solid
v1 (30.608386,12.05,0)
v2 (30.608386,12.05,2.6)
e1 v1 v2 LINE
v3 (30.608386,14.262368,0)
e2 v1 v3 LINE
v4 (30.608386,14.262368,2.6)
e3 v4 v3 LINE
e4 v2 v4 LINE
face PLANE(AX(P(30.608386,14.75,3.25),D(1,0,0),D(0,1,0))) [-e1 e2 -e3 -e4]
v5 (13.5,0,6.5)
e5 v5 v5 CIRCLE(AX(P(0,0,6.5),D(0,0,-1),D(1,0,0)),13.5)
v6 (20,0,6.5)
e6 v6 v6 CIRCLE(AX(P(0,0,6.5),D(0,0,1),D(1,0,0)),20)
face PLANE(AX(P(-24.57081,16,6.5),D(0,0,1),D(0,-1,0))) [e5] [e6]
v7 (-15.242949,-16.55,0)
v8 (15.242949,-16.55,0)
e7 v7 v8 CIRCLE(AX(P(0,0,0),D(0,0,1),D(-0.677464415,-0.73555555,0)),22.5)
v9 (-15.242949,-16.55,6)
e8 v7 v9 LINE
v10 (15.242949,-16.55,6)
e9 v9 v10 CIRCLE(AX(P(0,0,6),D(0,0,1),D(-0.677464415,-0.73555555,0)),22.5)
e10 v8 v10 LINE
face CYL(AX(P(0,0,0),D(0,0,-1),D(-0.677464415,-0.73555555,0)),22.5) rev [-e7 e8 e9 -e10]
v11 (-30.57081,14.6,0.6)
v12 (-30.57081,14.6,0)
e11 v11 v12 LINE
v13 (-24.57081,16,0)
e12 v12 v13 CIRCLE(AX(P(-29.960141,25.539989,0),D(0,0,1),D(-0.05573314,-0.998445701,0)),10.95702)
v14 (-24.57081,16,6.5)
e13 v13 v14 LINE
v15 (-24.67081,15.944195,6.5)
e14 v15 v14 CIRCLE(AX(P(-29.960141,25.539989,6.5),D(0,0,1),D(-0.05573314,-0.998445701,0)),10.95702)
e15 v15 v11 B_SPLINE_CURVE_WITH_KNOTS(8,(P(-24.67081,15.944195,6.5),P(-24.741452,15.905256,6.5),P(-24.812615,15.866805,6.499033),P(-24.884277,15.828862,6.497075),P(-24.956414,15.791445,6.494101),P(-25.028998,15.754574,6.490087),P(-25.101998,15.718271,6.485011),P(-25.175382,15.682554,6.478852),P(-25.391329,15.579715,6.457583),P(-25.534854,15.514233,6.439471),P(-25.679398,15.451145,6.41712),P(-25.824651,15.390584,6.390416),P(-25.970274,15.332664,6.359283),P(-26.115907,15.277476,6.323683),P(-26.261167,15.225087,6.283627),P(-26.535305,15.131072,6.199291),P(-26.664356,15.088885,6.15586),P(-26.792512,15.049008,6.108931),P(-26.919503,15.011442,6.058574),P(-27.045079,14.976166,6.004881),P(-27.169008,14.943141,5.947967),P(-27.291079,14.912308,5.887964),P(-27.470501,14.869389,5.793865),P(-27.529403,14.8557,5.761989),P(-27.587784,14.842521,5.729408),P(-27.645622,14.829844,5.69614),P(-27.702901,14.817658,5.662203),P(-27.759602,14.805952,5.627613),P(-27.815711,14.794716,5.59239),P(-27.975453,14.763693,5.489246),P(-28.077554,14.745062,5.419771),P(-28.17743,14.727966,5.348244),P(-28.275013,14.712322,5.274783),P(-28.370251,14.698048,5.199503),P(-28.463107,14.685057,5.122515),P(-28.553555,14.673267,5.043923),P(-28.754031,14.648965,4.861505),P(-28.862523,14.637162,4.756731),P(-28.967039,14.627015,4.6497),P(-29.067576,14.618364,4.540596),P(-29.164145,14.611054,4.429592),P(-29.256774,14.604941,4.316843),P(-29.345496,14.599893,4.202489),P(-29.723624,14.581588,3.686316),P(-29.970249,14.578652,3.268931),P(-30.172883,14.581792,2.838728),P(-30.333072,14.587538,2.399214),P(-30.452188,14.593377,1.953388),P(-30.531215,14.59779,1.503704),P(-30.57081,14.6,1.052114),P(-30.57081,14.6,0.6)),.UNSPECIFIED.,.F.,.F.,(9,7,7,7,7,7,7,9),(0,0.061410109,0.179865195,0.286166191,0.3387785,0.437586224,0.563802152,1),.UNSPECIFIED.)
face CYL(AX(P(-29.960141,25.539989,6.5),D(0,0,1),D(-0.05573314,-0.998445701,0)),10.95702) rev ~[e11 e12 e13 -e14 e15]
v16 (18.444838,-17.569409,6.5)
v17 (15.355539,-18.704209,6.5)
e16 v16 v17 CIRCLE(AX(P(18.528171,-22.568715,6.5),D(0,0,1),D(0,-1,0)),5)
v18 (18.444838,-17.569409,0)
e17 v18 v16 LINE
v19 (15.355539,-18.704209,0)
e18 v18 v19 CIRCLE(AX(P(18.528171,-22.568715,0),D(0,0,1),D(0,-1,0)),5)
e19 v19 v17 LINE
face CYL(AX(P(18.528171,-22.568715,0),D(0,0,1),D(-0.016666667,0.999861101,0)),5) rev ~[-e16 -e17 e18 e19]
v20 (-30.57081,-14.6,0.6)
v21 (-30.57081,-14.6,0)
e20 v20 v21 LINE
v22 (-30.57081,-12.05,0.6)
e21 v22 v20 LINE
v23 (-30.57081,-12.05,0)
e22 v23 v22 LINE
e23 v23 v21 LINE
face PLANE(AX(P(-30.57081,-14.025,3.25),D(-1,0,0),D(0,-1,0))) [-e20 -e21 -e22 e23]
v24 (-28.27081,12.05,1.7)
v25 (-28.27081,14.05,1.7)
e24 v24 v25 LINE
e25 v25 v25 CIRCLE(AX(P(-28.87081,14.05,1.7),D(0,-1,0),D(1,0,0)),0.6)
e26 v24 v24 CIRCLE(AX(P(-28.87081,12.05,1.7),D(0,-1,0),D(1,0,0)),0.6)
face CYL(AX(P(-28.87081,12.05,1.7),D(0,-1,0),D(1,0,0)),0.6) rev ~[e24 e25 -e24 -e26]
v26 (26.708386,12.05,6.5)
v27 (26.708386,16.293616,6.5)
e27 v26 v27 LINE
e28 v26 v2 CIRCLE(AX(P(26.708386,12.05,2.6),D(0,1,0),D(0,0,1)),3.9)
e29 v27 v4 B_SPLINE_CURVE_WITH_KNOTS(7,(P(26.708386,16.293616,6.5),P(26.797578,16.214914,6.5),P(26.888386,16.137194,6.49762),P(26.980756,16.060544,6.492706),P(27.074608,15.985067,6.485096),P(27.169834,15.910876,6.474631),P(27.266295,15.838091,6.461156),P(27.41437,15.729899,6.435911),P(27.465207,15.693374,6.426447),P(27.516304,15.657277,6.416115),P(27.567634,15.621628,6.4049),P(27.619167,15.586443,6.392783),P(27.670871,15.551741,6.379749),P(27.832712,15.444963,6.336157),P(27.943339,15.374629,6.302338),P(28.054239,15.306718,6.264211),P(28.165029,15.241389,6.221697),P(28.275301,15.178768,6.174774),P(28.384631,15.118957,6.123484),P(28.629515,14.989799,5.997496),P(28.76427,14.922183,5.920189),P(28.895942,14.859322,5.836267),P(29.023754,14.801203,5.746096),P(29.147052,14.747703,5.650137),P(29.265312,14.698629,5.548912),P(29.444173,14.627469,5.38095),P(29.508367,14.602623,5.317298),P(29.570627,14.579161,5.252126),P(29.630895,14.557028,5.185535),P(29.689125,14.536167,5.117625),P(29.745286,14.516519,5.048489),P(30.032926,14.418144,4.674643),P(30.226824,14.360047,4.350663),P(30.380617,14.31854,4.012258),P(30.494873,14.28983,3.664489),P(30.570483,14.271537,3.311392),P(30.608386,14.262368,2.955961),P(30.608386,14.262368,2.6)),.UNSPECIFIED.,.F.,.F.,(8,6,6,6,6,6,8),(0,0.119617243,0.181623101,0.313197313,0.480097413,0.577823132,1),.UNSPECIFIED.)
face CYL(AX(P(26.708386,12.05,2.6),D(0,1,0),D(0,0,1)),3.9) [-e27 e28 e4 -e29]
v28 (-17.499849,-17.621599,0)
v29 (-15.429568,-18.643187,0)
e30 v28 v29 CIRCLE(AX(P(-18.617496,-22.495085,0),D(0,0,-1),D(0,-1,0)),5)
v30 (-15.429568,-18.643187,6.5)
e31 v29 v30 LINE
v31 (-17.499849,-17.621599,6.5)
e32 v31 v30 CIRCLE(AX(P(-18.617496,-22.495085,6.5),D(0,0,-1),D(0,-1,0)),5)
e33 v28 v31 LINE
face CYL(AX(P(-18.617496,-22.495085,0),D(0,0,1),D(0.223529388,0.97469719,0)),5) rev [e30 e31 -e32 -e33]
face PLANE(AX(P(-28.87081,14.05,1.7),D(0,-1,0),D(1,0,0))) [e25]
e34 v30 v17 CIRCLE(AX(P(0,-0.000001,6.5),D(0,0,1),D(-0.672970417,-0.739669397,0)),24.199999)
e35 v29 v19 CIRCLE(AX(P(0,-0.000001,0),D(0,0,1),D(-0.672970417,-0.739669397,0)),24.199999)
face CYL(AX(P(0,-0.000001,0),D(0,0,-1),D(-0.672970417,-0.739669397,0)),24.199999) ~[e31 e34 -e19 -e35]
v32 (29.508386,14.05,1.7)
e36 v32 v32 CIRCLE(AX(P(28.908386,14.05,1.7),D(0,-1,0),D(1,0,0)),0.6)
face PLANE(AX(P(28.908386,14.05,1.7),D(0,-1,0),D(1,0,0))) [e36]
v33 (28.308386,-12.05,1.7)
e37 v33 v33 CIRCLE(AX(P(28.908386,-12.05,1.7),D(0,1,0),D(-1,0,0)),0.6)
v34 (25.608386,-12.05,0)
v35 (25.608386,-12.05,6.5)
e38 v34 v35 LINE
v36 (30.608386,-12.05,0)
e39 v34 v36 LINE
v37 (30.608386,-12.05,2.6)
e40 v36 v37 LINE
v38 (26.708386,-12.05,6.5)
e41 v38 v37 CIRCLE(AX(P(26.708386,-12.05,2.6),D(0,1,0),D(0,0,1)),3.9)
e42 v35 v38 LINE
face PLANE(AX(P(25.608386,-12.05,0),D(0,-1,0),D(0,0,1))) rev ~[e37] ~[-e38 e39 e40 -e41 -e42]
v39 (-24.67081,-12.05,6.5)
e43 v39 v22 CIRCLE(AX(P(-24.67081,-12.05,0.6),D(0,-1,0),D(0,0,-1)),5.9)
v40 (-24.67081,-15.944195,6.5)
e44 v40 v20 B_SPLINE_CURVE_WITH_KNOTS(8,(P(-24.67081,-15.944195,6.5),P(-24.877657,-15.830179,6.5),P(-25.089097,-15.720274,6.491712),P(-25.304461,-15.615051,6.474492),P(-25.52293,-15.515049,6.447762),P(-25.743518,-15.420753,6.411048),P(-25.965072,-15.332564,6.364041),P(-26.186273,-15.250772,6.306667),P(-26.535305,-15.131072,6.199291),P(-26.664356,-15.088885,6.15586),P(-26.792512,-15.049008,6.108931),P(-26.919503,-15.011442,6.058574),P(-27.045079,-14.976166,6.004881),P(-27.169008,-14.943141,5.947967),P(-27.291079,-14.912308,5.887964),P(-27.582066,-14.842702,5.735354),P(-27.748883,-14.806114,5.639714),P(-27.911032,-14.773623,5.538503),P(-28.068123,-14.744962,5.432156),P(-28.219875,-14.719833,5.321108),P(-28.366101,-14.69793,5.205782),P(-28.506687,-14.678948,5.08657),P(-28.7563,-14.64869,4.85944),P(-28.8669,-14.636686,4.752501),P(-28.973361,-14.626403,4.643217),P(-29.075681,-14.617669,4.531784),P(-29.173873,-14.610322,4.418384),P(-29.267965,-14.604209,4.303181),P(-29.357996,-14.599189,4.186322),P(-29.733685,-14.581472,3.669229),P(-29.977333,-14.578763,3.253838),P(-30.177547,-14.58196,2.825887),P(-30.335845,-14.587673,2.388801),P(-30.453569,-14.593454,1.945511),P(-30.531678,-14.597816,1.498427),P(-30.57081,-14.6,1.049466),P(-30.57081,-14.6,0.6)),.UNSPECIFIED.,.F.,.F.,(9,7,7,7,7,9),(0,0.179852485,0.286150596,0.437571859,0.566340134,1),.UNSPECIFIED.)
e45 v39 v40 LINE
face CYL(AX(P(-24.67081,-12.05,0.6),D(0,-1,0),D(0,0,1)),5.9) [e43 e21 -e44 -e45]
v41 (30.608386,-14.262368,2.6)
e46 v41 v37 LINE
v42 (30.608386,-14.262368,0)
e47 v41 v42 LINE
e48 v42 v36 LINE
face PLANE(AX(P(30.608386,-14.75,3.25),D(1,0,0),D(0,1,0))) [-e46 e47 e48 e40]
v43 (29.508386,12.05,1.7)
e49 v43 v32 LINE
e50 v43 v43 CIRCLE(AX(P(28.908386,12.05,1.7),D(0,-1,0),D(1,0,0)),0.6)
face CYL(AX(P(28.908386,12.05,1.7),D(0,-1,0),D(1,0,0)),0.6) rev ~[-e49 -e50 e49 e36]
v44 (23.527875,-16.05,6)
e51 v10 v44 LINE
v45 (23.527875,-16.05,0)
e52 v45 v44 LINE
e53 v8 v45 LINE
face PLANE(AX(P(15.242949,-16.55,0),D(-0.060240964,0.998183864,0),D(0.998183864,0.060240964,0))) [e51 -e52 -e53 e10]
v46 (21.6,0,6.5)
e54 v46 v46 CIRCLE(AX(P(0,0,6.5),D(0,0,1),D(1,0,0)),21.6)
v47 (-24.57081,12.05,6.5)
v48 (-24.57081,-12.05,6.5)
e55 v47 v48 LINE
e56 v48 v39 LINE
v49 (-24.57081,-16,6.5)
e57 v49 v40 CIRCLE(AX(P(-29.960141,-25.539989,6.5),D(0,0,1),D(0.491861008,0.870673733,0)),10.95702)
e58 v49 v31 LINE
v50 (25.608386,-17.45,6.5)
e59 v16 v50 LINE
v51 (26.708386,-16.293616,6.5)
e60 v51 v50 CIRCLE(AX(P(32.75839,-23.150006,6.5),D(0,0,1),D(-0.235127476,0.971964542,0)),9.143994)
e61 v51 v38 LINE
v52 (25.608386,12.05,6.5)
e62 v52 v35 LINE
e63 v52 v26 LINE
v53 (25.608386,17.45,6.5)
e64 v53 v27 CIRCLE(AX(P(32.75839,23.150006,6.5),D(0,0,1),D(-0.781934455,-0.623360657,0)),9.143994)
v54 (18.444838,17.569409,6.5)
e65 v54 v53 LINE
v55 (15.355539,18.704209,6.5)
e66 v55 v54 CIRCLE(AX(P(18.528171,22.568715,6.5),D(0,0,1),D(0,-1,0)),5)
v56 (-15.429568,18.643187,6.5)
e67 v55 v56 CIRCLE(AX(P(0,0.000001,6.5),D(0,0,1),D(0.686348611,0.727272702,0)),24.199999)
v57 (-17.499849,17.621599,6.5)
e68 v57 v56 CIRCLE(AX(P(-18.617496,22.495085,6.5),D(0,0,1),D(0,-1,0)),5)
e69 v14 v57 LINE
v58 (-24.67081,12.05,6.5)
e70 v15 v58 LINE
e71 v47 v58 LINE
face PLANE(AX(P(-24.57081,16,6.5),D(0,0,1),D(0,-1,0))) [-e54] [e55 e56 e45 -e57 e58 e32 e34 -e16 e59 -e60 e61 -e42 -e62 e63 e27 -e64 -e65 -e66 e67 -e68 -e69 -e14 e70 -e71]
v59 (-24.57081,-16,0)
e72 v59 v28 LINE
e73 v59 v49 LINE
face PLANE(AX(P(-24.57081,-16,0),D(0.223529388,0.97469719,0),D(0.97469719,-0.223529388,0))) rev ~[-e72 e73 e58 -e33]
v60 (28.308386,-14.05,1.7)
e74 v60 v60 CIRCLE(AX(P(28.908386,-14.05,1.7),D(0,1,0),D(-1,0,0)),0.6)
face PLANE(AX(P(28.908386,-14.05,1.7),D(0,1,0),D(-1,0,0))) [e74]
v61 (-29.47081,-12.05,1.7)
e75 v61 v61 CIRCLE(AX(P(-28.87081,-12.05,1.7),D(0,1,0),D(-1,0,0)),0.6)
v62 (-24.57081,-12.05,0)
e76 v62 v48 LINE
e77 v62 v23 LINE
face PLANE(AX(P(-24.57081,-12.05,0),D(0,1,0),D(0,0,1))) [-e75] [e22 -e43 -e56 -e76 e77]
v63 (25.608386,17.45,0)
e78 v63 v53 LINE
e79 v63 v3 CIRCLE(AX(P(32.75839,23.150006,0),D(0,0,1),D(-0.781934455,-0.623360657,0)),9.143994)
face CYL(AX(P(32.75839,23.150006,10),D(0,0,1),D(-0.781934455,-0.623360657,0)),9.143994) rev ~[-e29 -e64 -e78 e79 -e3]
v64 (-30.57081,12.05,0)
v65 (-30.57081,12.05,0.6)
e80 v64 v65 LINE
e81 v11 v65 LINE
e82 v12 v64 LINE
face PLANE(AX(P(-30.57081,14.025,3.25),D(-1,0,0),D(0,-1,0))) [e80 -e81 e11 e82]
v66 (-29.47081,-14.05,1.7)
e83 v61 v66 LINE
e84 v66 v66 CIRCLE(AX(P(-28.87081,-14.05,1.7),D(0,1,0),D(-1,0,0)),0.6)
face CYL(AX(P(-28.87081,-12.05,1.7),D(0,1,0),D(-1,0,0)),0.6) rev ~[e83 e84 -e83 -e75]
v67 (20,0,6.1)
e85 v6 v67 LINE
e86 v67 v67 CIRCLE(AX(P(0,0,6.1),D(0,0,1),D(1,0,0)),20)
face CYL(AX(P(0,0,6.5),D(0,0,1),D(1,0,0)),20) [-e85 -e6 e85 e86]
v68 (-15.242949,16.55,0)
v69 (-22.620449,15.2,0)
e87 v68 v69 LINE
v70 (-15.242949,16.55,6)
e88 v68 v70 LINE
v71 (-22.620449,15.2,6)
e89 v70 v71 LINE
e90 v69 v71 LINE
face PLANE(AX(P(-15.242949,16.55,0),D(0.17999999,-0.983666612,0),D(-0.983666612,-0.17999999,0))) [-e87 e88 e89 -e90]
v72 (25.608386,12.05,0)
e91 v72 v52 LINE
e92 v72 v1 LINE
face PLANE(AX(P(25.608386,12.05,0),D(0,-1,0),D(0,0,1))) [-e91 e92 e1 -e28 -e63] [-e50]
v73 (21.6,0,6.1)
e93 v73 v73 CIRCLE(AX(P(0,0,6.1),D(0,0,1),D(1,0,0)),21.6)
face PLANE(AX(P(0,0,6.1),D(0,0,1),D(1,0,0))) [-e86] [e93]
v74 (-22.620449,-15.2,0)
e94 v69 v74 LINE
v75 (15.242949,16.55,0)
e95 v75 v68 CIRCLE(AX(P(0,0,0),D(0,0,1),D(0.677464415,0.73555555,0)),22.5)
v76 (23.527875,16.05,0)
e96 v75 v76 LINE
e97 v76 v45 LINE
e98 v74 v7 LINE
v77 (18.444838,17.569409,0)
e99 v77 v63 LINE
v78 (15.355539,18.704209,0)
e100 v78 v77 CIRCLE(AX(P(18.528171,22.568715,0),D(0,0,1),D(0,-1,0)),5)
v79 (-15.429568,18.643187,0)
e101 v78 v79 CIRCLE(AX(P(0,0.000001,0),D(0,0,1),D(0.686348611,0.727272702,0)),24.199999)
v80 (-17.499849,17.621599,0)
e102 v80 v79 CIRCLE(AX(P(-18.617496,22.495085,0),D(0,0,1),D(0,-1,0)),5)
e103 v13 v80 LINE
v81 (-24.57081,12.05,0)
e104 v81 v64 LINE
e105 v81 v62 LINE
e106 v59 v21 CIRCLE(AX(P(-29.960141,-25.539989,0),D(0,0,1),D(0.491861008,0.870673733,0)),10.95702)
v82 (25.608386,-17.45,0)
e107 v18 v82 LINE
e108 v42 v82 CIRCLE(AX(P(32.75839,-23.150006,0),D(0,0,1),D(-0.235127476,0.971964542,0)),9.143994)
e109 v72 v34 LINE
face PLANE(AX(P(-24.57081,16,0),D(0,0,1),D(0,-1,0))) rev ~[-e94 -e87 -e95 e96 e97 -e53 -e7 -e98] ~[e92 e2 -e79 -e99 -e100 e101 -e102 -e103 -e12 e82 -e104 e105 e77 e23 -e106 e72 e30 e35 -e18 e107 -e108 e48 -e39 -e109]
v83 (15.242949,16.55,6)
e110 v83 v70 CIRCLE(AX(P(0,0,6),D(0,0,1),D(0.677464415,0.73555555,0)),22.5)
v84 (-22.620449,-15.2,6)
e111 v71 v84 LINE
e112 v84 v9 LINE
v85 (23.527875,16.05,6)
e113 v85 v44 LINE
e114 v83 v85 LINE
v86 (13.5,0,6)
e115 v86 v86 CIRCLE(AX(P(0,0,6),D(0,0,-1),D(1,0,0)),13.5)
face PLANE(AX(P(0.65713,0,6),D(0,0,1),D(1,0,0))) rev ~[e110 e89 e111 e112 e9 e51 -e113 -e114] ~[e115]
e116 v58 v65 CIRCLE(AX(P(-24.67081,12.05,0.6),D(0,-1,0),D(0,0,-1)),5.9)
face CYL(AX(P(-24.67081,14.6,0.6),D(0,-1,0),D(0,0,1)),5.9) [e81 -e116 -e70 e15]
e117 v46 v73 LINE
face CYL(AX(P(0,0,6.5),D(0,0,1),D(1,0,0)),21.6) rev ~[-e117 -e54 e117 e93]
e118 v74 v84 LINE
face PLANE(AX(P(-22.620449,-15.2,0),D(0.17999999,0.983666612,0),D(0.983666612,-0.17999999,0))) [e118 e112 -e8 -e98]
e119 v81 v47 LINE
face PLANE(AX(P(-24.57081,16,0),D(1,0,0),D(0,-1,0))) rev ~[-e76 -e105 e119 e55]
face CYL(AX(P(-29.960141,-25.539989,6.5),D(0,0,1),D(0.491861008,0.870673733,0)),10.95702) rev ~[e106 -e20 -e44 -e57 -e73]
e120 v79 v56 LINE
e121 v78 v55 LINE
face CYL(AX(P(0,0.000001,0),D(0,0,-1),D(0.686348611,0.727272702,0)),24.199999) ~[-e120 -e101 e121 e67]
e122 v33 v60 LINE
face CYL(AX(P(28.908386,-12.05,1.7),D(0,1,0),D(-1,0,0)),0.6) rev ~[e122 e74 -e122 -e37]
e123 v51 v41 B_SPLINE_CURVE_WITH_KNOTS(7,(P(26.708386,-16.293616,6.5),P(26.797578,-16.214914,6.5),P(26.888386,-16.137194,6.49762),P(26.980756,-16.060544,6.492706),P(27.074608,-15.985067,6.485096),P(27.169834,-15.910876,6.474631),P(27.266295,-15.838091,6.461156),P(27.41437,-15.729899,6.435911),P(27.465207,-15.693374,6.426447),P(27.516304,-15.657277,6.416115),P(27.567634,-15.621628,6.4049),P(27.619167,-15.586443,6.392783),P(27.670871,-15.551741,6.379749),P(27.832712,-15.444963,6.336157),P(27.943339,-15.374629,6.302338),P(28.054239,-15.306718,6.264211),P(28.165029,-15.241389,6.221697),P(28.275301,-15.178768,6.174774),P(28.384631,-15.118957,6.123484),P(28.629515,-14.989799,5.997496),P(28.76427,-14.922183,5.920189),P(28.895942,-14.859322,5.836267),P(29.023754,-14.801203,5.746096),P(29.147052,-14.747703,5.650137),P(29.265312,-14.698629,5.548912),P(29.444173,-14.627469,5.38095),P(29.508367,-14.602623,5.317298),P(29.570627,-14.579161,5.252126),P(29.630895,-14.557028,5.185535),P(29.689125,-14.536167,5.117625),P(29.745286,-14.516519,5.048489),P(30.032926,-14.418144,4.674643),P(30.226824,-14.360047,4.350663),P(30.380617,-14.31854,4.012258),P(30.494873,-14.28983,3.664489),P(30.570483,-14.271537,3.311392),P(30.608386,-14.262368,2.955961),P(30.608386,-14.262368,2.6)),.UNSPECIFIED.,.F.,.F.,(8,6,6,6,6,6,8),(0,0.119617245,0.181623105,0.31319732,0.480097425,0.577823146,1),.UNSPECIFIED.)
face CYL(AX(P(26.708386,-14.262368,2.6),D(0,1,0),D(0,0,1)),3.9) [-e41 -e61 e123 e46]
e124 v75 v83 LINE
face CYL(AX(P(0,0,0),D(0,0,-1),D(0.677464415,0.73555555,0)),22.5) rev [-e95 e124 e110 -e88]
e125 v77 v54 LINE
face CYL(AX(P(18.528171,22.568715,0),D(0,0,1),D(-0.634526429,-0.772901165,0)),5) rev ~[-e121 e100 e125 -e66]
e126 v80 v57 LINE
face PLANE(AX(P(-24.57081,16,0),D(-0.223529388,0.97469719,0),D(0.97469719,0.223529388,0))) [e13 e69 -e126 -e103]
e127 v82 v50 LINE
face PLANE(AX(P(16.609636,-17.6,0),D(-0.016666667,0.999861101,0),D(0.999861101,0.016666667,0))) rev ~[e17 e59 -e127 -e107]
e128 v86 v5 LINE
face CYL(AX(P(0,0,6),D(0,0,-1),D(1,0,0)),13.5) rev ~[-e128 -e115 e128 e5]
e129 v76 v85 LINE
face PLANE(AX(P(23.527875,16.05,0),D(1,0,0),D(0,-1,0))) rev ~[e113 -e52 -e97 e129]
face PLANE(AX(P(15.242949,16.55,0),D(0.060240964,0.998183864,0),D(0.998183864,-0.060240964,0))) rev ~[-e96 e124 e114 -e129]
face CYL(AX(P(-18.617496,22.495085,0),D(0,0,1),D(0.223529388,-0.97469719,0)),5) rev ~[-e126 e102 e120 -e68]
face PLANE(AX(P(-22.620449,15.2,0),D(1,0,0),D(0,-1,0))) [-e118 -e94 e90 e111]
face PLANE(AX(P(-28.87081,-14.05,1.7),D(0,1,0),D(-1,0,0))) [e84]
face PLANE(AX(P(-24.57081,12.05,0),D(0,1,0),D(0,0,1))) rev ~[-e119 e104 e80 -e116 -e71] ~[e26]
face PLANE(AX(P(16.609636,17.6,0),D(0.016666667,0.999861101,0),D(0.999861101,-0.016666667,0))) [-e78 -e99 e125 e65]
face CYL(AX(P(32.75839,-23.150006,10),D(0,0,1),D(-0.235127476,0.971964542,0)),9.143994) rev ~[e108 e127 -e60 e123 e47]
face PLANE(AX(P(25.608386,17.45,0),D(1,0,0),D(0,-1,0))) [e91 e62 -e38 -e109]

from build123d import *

# Parameters (mm, degrees)
PAD_DEPTH       = 6.5
POCKET_DEPTH    = 6
SKETCH002_R     = 13.5
POCKET001_DEPTH = 1
SKETCH003_W     = 5.4
SKETCH003_H     = 6.5
PAD001_DEPTH    = 5
POCKET002_DEPTH = 10
SKETCH008_R     = 0.6
POCKET003_DEPTH = 2
SKETCH009_R     = 0.6
POCKET004_DEPTH = 2
FILLET_R        = 3.9
FILLET001_R     = 3.9
FILLET002_R     = 5
FILLET003_R     = 5
FILLET004_R     = 5
FILLET005_R     = 5
SKETCH010_W     = 3.95
SKETCH010_H     = 6.5
PAD002_DEPTH    = 6
POCKET005_DEPTH = 10
SKETCH012_R     = 0.6
POCKET006_DEPTH = 2
SKETCH013_R     = 0.6
POCKET007_DEPTH = 2
FILLET006_R     = 5.9
FILLET007_R     = 5.9
SKETCH014_R     = 21.6
SKETCH014_R_2   = 20
POCKET008_DEPTH = 0.4


with BuildPart() as part:
    # Sketch → Pad (new body)
    with BuildSketch(Plane.XY):
        with BuildLine():
            Line((-24.57081, 16), (-24.57081, -16))
            Line((-24.57081, -16), (-16.285883, -17.9))
            ThreePointArc((-16.285883, -17.9), (0.22069, -24.198994), (16.609636, -17.6))
            Line((16.609636, -17.6), (25.608386, -17.45))
            Line((25.608386, 17.45), (25.608386, -17.45))
            Line((16.609636, 17.6), (25.608386, 17.45))
            ThreePointArc((16.609636, 17.6), (0.22069, 24.198994), (-16.285883, 17.9))
            Line((-24.57081, 16), (-16.285883, 17.9))
        make_face()
    extrude(amount=PAD_DEPTH)

    # Sketch001 → Pocket (cut)
    with BuildSketch(Plane.XY):
        with BuildLine():
            Line((-15.242949, 16.55), (-22.620449, 15.2))
            Line((-22.620449, 15.2), (-22.620449, -15.2))
            Line((-22.620449, -15.2), (-15.242949, -16.55))
            ThreePointArc((-15.242949, -16.55), (0, -22.5), (15.242949, -16.55))
            Line((15.242949, -16.55), (23.527875, -16.05))
            Line((23.527875, 16.05), (23.527875, -16.05))
            Line((15.242949, 16.55), (23.527875, 16.05))
            ThreePointArc((15.242949, 16.55), (0, 22.5), (-15.242949, 16.55))
        make_face()
    extrude(amount=POCKET_DEPTH, mode=Mode.SUBTRACT)

    # Sketch002 (on Face19 of Pocket) → Pocket001 (cut)
    with BuildSketch(Plane(origin=(0, 0, 6), x_dir=(1, 0, 0), z_dir=(0, 0, -1))):
        Circle(SKETCH002_R)
    extrude(amount=-POCKET001_DEPTH, mode=Mode.SUBTRACT)

    # Sketch003 (on Face6 of Pocket001) → Pad001 (join)
    with BuildSketch(Plane.YZ.offset(25.608386)):
        with Locations((-14.75, 3.25)):
            Rectangle(SKETCH003_W, SKETCH003_H)
        with Locations((14.75, 3.25)):
            Rectangle(SKETCH003_W, SKETCH003_H)
    extrude(amount=PAD001_DEPTH)

    # Sketch006 → Pocket002 (cut)
    with BuildSketch(Plane.XY.offset(10)):
        with BuildLine():
            ThreePointArc((25.608386, 17.45), (27.842824, 15.439634), (30.608386, 14.262368))
            Line((30.608386, 17.45), (30.608386, 14.262368))
            Line((30.608386, 17.45), (25.608386, 17.45))
        make_face()
        with BuildLine():
            ThreePointArc((30.608386, -14.262368), (27.842824, -15.439634), (25.608386, -17.45))
            Line((30.608386, -17.45), (25.608386, -17.45))
            Line((30.608386, -14.262368), (30.608386, -17.45))
        make_face()
    extrude(amount=-POCKET002_DEPTH, mode=Mode.SUBTRACT)

    # Sketch008 (on Face27 of Pocket002) → Pocket003 (cut)
    with BuildSketch(Plane(origin=(0, -12.05, 0), x_dir=(-1, 0, 0), z_dir=(0, 1, 0))):
        with Locations((-28.908386, 1.7)):
            Circle(SKETCH008_R)
    extrude(amount=-POCKET003_DEPTH, mode=Mode.SUBTRACT)

    # Sketch009 (on Face26 of Pocket003) → Pocket004 (cut)
    with BuildSketch(Plane.XZ.offset(-12.05)):
        with Locations((28.908386, 1.7)):
            Circle(SKETCH009_R)
    extrude(amount=-POCKET004_DEPTH, mode=Mode.SUBTRACT)

    # Fillet
    fillet_edges = [part.edges().sort_by_distance(p)[0] for p in [
        (30.608386, -13.156184, 6.5),
    ]]
    fillet(fillet_edges, radius=FILLET_R)

    # Fillet001
    fillet001_edges = [part.edges().sort_by_distance(p)[0] for p in [
        (30.608386, 13.156184, 6.5),
    ]]
    fillet(fillet001_edges, radius=FILLET001_R)

    # Fillet002
    fillet002_edges = [part.edges().sort_by_distance(p)[0] for p in [
        (16.609636, -17.6, 3.25),
    ]]
    fillet(fillet002_edges, radius=FILLET002_R)

    # Fillet003
    fillet003_edges = [part.edges().sort_by_distance(p)[0] for p in [
        (16.609636, 17.6, 3.25),
    ]]
    fillet(fillet003_edges, radius=FILLET003_R)

    # Fillet004
    fillet004_edges = [part.edges().sort_by_distance(p)[0] for p in [
        (-16.285883, -17.9, 3.25),
    ]]
    fillet(fillet004_edges, radius=FILLET004_R)

    # Fillet005
    fillet005_edges = [part.edges().sort_by_distance(p)[0] for p in [
        (-16.285883, 17.9, 3.25),
    ]]
    fillet(fillet005_edges, radius=FILLET005_R)

    # Sketch010 (on Face4 of Fillet005) → Pad002 (join)
    with BuildSketch(Plane(origin=(-24.57081, 0, 0), x_dir=(0, -1, 0), z_dir=(-1, 0, 0))):
        with Locations((-14.025, 3.25)):
            Rectangle(SKETCH010_W, SKETCH010_H)
        with Locations((14.025, 3.25)):
            Rectangle(SKETCH010_W, SKETCH010_H)
    extrude(amount=PAD002_DEPTH)

    # Sketch011 (on Face6 of Pad002) → Pocket005 (cut)
    with BuildSketch(Plane.XY.offset(6.5)):
        with BuildLine():
            ThreePointArc((-30.57081, 14.6), (-27.470381, 14.869592), (-24.57081, 16))
            Line((-24.57081, 16), (-30.57081, 16))
            Line((-30.57081, 16), (-30.57081, 14.6))
        make_face()
        with BuildLine():
            ThreePointArc((-24.57081, -16), (-27.470381, -14.869592), (-30.57081, -14.6))
            Line((-30.57081, -14.6), (-30.57081, -16))
            Line((-30.57081, -16), (-24.57081, -16))
        make_face()
    extrude(amount=-POCKET005_DEPTH, mode=Mode.SUBTRACT)

    # Sketch012 (on Face23 of Pocket005) → Pocket006 (cut)
    with BuildSketch(Plane(origin=(0, -12.05, 0), x_dir=(-1, 0, 0), z_dir=(0, 1, 0))):
        with Locations((28.87081, 1.7)):
            Circle(SKETCH012_R)
    extrude(amount=-POCKET006_DEPTH, mode=Mode.SUBTRACT)

    # Sketch013 (on Face21 of Pocket006) → Pocket007 (cut)
    with BuildSketch(Plane.XZ.offset(-12.05)):
        with Locations((-28.87081, 1.7)):
            Circle(SKETCH013_R)
    extrude(amount=-POCKET007_DEPTH, mode=Mode.SUBTRACT)

    # Fillet006
    fillet006_edges = [part.edges().sort_by_distance(p)[0] for p in [
        (-30.57081, 13.325, 6.5),
    ]]
    fillet(fillet006_edges, radius=FILLET006_R)

    # Fillet007
    fillet007_edges = [part.edges().sort_by_distance(p)[0] for p in [
        (-30.57081, -13.325, 6.5),
    ]]
    fillet(fillet007_edges, radius=FILLET007_R)

    # Sketch014 (on Face4 of Fillet007) → Pocket008 (cut)
    with BuildSketch(Plane.XY.offset(6.5)):
        Circle(SKETCH014_R)
        Circle(SKETCH014_R_2, mode=Mode.SUBTRACT)
    extrude(amount=-POCKET008_DEPTH, mode=Mode.SUBTRACT)


solid = part.part
